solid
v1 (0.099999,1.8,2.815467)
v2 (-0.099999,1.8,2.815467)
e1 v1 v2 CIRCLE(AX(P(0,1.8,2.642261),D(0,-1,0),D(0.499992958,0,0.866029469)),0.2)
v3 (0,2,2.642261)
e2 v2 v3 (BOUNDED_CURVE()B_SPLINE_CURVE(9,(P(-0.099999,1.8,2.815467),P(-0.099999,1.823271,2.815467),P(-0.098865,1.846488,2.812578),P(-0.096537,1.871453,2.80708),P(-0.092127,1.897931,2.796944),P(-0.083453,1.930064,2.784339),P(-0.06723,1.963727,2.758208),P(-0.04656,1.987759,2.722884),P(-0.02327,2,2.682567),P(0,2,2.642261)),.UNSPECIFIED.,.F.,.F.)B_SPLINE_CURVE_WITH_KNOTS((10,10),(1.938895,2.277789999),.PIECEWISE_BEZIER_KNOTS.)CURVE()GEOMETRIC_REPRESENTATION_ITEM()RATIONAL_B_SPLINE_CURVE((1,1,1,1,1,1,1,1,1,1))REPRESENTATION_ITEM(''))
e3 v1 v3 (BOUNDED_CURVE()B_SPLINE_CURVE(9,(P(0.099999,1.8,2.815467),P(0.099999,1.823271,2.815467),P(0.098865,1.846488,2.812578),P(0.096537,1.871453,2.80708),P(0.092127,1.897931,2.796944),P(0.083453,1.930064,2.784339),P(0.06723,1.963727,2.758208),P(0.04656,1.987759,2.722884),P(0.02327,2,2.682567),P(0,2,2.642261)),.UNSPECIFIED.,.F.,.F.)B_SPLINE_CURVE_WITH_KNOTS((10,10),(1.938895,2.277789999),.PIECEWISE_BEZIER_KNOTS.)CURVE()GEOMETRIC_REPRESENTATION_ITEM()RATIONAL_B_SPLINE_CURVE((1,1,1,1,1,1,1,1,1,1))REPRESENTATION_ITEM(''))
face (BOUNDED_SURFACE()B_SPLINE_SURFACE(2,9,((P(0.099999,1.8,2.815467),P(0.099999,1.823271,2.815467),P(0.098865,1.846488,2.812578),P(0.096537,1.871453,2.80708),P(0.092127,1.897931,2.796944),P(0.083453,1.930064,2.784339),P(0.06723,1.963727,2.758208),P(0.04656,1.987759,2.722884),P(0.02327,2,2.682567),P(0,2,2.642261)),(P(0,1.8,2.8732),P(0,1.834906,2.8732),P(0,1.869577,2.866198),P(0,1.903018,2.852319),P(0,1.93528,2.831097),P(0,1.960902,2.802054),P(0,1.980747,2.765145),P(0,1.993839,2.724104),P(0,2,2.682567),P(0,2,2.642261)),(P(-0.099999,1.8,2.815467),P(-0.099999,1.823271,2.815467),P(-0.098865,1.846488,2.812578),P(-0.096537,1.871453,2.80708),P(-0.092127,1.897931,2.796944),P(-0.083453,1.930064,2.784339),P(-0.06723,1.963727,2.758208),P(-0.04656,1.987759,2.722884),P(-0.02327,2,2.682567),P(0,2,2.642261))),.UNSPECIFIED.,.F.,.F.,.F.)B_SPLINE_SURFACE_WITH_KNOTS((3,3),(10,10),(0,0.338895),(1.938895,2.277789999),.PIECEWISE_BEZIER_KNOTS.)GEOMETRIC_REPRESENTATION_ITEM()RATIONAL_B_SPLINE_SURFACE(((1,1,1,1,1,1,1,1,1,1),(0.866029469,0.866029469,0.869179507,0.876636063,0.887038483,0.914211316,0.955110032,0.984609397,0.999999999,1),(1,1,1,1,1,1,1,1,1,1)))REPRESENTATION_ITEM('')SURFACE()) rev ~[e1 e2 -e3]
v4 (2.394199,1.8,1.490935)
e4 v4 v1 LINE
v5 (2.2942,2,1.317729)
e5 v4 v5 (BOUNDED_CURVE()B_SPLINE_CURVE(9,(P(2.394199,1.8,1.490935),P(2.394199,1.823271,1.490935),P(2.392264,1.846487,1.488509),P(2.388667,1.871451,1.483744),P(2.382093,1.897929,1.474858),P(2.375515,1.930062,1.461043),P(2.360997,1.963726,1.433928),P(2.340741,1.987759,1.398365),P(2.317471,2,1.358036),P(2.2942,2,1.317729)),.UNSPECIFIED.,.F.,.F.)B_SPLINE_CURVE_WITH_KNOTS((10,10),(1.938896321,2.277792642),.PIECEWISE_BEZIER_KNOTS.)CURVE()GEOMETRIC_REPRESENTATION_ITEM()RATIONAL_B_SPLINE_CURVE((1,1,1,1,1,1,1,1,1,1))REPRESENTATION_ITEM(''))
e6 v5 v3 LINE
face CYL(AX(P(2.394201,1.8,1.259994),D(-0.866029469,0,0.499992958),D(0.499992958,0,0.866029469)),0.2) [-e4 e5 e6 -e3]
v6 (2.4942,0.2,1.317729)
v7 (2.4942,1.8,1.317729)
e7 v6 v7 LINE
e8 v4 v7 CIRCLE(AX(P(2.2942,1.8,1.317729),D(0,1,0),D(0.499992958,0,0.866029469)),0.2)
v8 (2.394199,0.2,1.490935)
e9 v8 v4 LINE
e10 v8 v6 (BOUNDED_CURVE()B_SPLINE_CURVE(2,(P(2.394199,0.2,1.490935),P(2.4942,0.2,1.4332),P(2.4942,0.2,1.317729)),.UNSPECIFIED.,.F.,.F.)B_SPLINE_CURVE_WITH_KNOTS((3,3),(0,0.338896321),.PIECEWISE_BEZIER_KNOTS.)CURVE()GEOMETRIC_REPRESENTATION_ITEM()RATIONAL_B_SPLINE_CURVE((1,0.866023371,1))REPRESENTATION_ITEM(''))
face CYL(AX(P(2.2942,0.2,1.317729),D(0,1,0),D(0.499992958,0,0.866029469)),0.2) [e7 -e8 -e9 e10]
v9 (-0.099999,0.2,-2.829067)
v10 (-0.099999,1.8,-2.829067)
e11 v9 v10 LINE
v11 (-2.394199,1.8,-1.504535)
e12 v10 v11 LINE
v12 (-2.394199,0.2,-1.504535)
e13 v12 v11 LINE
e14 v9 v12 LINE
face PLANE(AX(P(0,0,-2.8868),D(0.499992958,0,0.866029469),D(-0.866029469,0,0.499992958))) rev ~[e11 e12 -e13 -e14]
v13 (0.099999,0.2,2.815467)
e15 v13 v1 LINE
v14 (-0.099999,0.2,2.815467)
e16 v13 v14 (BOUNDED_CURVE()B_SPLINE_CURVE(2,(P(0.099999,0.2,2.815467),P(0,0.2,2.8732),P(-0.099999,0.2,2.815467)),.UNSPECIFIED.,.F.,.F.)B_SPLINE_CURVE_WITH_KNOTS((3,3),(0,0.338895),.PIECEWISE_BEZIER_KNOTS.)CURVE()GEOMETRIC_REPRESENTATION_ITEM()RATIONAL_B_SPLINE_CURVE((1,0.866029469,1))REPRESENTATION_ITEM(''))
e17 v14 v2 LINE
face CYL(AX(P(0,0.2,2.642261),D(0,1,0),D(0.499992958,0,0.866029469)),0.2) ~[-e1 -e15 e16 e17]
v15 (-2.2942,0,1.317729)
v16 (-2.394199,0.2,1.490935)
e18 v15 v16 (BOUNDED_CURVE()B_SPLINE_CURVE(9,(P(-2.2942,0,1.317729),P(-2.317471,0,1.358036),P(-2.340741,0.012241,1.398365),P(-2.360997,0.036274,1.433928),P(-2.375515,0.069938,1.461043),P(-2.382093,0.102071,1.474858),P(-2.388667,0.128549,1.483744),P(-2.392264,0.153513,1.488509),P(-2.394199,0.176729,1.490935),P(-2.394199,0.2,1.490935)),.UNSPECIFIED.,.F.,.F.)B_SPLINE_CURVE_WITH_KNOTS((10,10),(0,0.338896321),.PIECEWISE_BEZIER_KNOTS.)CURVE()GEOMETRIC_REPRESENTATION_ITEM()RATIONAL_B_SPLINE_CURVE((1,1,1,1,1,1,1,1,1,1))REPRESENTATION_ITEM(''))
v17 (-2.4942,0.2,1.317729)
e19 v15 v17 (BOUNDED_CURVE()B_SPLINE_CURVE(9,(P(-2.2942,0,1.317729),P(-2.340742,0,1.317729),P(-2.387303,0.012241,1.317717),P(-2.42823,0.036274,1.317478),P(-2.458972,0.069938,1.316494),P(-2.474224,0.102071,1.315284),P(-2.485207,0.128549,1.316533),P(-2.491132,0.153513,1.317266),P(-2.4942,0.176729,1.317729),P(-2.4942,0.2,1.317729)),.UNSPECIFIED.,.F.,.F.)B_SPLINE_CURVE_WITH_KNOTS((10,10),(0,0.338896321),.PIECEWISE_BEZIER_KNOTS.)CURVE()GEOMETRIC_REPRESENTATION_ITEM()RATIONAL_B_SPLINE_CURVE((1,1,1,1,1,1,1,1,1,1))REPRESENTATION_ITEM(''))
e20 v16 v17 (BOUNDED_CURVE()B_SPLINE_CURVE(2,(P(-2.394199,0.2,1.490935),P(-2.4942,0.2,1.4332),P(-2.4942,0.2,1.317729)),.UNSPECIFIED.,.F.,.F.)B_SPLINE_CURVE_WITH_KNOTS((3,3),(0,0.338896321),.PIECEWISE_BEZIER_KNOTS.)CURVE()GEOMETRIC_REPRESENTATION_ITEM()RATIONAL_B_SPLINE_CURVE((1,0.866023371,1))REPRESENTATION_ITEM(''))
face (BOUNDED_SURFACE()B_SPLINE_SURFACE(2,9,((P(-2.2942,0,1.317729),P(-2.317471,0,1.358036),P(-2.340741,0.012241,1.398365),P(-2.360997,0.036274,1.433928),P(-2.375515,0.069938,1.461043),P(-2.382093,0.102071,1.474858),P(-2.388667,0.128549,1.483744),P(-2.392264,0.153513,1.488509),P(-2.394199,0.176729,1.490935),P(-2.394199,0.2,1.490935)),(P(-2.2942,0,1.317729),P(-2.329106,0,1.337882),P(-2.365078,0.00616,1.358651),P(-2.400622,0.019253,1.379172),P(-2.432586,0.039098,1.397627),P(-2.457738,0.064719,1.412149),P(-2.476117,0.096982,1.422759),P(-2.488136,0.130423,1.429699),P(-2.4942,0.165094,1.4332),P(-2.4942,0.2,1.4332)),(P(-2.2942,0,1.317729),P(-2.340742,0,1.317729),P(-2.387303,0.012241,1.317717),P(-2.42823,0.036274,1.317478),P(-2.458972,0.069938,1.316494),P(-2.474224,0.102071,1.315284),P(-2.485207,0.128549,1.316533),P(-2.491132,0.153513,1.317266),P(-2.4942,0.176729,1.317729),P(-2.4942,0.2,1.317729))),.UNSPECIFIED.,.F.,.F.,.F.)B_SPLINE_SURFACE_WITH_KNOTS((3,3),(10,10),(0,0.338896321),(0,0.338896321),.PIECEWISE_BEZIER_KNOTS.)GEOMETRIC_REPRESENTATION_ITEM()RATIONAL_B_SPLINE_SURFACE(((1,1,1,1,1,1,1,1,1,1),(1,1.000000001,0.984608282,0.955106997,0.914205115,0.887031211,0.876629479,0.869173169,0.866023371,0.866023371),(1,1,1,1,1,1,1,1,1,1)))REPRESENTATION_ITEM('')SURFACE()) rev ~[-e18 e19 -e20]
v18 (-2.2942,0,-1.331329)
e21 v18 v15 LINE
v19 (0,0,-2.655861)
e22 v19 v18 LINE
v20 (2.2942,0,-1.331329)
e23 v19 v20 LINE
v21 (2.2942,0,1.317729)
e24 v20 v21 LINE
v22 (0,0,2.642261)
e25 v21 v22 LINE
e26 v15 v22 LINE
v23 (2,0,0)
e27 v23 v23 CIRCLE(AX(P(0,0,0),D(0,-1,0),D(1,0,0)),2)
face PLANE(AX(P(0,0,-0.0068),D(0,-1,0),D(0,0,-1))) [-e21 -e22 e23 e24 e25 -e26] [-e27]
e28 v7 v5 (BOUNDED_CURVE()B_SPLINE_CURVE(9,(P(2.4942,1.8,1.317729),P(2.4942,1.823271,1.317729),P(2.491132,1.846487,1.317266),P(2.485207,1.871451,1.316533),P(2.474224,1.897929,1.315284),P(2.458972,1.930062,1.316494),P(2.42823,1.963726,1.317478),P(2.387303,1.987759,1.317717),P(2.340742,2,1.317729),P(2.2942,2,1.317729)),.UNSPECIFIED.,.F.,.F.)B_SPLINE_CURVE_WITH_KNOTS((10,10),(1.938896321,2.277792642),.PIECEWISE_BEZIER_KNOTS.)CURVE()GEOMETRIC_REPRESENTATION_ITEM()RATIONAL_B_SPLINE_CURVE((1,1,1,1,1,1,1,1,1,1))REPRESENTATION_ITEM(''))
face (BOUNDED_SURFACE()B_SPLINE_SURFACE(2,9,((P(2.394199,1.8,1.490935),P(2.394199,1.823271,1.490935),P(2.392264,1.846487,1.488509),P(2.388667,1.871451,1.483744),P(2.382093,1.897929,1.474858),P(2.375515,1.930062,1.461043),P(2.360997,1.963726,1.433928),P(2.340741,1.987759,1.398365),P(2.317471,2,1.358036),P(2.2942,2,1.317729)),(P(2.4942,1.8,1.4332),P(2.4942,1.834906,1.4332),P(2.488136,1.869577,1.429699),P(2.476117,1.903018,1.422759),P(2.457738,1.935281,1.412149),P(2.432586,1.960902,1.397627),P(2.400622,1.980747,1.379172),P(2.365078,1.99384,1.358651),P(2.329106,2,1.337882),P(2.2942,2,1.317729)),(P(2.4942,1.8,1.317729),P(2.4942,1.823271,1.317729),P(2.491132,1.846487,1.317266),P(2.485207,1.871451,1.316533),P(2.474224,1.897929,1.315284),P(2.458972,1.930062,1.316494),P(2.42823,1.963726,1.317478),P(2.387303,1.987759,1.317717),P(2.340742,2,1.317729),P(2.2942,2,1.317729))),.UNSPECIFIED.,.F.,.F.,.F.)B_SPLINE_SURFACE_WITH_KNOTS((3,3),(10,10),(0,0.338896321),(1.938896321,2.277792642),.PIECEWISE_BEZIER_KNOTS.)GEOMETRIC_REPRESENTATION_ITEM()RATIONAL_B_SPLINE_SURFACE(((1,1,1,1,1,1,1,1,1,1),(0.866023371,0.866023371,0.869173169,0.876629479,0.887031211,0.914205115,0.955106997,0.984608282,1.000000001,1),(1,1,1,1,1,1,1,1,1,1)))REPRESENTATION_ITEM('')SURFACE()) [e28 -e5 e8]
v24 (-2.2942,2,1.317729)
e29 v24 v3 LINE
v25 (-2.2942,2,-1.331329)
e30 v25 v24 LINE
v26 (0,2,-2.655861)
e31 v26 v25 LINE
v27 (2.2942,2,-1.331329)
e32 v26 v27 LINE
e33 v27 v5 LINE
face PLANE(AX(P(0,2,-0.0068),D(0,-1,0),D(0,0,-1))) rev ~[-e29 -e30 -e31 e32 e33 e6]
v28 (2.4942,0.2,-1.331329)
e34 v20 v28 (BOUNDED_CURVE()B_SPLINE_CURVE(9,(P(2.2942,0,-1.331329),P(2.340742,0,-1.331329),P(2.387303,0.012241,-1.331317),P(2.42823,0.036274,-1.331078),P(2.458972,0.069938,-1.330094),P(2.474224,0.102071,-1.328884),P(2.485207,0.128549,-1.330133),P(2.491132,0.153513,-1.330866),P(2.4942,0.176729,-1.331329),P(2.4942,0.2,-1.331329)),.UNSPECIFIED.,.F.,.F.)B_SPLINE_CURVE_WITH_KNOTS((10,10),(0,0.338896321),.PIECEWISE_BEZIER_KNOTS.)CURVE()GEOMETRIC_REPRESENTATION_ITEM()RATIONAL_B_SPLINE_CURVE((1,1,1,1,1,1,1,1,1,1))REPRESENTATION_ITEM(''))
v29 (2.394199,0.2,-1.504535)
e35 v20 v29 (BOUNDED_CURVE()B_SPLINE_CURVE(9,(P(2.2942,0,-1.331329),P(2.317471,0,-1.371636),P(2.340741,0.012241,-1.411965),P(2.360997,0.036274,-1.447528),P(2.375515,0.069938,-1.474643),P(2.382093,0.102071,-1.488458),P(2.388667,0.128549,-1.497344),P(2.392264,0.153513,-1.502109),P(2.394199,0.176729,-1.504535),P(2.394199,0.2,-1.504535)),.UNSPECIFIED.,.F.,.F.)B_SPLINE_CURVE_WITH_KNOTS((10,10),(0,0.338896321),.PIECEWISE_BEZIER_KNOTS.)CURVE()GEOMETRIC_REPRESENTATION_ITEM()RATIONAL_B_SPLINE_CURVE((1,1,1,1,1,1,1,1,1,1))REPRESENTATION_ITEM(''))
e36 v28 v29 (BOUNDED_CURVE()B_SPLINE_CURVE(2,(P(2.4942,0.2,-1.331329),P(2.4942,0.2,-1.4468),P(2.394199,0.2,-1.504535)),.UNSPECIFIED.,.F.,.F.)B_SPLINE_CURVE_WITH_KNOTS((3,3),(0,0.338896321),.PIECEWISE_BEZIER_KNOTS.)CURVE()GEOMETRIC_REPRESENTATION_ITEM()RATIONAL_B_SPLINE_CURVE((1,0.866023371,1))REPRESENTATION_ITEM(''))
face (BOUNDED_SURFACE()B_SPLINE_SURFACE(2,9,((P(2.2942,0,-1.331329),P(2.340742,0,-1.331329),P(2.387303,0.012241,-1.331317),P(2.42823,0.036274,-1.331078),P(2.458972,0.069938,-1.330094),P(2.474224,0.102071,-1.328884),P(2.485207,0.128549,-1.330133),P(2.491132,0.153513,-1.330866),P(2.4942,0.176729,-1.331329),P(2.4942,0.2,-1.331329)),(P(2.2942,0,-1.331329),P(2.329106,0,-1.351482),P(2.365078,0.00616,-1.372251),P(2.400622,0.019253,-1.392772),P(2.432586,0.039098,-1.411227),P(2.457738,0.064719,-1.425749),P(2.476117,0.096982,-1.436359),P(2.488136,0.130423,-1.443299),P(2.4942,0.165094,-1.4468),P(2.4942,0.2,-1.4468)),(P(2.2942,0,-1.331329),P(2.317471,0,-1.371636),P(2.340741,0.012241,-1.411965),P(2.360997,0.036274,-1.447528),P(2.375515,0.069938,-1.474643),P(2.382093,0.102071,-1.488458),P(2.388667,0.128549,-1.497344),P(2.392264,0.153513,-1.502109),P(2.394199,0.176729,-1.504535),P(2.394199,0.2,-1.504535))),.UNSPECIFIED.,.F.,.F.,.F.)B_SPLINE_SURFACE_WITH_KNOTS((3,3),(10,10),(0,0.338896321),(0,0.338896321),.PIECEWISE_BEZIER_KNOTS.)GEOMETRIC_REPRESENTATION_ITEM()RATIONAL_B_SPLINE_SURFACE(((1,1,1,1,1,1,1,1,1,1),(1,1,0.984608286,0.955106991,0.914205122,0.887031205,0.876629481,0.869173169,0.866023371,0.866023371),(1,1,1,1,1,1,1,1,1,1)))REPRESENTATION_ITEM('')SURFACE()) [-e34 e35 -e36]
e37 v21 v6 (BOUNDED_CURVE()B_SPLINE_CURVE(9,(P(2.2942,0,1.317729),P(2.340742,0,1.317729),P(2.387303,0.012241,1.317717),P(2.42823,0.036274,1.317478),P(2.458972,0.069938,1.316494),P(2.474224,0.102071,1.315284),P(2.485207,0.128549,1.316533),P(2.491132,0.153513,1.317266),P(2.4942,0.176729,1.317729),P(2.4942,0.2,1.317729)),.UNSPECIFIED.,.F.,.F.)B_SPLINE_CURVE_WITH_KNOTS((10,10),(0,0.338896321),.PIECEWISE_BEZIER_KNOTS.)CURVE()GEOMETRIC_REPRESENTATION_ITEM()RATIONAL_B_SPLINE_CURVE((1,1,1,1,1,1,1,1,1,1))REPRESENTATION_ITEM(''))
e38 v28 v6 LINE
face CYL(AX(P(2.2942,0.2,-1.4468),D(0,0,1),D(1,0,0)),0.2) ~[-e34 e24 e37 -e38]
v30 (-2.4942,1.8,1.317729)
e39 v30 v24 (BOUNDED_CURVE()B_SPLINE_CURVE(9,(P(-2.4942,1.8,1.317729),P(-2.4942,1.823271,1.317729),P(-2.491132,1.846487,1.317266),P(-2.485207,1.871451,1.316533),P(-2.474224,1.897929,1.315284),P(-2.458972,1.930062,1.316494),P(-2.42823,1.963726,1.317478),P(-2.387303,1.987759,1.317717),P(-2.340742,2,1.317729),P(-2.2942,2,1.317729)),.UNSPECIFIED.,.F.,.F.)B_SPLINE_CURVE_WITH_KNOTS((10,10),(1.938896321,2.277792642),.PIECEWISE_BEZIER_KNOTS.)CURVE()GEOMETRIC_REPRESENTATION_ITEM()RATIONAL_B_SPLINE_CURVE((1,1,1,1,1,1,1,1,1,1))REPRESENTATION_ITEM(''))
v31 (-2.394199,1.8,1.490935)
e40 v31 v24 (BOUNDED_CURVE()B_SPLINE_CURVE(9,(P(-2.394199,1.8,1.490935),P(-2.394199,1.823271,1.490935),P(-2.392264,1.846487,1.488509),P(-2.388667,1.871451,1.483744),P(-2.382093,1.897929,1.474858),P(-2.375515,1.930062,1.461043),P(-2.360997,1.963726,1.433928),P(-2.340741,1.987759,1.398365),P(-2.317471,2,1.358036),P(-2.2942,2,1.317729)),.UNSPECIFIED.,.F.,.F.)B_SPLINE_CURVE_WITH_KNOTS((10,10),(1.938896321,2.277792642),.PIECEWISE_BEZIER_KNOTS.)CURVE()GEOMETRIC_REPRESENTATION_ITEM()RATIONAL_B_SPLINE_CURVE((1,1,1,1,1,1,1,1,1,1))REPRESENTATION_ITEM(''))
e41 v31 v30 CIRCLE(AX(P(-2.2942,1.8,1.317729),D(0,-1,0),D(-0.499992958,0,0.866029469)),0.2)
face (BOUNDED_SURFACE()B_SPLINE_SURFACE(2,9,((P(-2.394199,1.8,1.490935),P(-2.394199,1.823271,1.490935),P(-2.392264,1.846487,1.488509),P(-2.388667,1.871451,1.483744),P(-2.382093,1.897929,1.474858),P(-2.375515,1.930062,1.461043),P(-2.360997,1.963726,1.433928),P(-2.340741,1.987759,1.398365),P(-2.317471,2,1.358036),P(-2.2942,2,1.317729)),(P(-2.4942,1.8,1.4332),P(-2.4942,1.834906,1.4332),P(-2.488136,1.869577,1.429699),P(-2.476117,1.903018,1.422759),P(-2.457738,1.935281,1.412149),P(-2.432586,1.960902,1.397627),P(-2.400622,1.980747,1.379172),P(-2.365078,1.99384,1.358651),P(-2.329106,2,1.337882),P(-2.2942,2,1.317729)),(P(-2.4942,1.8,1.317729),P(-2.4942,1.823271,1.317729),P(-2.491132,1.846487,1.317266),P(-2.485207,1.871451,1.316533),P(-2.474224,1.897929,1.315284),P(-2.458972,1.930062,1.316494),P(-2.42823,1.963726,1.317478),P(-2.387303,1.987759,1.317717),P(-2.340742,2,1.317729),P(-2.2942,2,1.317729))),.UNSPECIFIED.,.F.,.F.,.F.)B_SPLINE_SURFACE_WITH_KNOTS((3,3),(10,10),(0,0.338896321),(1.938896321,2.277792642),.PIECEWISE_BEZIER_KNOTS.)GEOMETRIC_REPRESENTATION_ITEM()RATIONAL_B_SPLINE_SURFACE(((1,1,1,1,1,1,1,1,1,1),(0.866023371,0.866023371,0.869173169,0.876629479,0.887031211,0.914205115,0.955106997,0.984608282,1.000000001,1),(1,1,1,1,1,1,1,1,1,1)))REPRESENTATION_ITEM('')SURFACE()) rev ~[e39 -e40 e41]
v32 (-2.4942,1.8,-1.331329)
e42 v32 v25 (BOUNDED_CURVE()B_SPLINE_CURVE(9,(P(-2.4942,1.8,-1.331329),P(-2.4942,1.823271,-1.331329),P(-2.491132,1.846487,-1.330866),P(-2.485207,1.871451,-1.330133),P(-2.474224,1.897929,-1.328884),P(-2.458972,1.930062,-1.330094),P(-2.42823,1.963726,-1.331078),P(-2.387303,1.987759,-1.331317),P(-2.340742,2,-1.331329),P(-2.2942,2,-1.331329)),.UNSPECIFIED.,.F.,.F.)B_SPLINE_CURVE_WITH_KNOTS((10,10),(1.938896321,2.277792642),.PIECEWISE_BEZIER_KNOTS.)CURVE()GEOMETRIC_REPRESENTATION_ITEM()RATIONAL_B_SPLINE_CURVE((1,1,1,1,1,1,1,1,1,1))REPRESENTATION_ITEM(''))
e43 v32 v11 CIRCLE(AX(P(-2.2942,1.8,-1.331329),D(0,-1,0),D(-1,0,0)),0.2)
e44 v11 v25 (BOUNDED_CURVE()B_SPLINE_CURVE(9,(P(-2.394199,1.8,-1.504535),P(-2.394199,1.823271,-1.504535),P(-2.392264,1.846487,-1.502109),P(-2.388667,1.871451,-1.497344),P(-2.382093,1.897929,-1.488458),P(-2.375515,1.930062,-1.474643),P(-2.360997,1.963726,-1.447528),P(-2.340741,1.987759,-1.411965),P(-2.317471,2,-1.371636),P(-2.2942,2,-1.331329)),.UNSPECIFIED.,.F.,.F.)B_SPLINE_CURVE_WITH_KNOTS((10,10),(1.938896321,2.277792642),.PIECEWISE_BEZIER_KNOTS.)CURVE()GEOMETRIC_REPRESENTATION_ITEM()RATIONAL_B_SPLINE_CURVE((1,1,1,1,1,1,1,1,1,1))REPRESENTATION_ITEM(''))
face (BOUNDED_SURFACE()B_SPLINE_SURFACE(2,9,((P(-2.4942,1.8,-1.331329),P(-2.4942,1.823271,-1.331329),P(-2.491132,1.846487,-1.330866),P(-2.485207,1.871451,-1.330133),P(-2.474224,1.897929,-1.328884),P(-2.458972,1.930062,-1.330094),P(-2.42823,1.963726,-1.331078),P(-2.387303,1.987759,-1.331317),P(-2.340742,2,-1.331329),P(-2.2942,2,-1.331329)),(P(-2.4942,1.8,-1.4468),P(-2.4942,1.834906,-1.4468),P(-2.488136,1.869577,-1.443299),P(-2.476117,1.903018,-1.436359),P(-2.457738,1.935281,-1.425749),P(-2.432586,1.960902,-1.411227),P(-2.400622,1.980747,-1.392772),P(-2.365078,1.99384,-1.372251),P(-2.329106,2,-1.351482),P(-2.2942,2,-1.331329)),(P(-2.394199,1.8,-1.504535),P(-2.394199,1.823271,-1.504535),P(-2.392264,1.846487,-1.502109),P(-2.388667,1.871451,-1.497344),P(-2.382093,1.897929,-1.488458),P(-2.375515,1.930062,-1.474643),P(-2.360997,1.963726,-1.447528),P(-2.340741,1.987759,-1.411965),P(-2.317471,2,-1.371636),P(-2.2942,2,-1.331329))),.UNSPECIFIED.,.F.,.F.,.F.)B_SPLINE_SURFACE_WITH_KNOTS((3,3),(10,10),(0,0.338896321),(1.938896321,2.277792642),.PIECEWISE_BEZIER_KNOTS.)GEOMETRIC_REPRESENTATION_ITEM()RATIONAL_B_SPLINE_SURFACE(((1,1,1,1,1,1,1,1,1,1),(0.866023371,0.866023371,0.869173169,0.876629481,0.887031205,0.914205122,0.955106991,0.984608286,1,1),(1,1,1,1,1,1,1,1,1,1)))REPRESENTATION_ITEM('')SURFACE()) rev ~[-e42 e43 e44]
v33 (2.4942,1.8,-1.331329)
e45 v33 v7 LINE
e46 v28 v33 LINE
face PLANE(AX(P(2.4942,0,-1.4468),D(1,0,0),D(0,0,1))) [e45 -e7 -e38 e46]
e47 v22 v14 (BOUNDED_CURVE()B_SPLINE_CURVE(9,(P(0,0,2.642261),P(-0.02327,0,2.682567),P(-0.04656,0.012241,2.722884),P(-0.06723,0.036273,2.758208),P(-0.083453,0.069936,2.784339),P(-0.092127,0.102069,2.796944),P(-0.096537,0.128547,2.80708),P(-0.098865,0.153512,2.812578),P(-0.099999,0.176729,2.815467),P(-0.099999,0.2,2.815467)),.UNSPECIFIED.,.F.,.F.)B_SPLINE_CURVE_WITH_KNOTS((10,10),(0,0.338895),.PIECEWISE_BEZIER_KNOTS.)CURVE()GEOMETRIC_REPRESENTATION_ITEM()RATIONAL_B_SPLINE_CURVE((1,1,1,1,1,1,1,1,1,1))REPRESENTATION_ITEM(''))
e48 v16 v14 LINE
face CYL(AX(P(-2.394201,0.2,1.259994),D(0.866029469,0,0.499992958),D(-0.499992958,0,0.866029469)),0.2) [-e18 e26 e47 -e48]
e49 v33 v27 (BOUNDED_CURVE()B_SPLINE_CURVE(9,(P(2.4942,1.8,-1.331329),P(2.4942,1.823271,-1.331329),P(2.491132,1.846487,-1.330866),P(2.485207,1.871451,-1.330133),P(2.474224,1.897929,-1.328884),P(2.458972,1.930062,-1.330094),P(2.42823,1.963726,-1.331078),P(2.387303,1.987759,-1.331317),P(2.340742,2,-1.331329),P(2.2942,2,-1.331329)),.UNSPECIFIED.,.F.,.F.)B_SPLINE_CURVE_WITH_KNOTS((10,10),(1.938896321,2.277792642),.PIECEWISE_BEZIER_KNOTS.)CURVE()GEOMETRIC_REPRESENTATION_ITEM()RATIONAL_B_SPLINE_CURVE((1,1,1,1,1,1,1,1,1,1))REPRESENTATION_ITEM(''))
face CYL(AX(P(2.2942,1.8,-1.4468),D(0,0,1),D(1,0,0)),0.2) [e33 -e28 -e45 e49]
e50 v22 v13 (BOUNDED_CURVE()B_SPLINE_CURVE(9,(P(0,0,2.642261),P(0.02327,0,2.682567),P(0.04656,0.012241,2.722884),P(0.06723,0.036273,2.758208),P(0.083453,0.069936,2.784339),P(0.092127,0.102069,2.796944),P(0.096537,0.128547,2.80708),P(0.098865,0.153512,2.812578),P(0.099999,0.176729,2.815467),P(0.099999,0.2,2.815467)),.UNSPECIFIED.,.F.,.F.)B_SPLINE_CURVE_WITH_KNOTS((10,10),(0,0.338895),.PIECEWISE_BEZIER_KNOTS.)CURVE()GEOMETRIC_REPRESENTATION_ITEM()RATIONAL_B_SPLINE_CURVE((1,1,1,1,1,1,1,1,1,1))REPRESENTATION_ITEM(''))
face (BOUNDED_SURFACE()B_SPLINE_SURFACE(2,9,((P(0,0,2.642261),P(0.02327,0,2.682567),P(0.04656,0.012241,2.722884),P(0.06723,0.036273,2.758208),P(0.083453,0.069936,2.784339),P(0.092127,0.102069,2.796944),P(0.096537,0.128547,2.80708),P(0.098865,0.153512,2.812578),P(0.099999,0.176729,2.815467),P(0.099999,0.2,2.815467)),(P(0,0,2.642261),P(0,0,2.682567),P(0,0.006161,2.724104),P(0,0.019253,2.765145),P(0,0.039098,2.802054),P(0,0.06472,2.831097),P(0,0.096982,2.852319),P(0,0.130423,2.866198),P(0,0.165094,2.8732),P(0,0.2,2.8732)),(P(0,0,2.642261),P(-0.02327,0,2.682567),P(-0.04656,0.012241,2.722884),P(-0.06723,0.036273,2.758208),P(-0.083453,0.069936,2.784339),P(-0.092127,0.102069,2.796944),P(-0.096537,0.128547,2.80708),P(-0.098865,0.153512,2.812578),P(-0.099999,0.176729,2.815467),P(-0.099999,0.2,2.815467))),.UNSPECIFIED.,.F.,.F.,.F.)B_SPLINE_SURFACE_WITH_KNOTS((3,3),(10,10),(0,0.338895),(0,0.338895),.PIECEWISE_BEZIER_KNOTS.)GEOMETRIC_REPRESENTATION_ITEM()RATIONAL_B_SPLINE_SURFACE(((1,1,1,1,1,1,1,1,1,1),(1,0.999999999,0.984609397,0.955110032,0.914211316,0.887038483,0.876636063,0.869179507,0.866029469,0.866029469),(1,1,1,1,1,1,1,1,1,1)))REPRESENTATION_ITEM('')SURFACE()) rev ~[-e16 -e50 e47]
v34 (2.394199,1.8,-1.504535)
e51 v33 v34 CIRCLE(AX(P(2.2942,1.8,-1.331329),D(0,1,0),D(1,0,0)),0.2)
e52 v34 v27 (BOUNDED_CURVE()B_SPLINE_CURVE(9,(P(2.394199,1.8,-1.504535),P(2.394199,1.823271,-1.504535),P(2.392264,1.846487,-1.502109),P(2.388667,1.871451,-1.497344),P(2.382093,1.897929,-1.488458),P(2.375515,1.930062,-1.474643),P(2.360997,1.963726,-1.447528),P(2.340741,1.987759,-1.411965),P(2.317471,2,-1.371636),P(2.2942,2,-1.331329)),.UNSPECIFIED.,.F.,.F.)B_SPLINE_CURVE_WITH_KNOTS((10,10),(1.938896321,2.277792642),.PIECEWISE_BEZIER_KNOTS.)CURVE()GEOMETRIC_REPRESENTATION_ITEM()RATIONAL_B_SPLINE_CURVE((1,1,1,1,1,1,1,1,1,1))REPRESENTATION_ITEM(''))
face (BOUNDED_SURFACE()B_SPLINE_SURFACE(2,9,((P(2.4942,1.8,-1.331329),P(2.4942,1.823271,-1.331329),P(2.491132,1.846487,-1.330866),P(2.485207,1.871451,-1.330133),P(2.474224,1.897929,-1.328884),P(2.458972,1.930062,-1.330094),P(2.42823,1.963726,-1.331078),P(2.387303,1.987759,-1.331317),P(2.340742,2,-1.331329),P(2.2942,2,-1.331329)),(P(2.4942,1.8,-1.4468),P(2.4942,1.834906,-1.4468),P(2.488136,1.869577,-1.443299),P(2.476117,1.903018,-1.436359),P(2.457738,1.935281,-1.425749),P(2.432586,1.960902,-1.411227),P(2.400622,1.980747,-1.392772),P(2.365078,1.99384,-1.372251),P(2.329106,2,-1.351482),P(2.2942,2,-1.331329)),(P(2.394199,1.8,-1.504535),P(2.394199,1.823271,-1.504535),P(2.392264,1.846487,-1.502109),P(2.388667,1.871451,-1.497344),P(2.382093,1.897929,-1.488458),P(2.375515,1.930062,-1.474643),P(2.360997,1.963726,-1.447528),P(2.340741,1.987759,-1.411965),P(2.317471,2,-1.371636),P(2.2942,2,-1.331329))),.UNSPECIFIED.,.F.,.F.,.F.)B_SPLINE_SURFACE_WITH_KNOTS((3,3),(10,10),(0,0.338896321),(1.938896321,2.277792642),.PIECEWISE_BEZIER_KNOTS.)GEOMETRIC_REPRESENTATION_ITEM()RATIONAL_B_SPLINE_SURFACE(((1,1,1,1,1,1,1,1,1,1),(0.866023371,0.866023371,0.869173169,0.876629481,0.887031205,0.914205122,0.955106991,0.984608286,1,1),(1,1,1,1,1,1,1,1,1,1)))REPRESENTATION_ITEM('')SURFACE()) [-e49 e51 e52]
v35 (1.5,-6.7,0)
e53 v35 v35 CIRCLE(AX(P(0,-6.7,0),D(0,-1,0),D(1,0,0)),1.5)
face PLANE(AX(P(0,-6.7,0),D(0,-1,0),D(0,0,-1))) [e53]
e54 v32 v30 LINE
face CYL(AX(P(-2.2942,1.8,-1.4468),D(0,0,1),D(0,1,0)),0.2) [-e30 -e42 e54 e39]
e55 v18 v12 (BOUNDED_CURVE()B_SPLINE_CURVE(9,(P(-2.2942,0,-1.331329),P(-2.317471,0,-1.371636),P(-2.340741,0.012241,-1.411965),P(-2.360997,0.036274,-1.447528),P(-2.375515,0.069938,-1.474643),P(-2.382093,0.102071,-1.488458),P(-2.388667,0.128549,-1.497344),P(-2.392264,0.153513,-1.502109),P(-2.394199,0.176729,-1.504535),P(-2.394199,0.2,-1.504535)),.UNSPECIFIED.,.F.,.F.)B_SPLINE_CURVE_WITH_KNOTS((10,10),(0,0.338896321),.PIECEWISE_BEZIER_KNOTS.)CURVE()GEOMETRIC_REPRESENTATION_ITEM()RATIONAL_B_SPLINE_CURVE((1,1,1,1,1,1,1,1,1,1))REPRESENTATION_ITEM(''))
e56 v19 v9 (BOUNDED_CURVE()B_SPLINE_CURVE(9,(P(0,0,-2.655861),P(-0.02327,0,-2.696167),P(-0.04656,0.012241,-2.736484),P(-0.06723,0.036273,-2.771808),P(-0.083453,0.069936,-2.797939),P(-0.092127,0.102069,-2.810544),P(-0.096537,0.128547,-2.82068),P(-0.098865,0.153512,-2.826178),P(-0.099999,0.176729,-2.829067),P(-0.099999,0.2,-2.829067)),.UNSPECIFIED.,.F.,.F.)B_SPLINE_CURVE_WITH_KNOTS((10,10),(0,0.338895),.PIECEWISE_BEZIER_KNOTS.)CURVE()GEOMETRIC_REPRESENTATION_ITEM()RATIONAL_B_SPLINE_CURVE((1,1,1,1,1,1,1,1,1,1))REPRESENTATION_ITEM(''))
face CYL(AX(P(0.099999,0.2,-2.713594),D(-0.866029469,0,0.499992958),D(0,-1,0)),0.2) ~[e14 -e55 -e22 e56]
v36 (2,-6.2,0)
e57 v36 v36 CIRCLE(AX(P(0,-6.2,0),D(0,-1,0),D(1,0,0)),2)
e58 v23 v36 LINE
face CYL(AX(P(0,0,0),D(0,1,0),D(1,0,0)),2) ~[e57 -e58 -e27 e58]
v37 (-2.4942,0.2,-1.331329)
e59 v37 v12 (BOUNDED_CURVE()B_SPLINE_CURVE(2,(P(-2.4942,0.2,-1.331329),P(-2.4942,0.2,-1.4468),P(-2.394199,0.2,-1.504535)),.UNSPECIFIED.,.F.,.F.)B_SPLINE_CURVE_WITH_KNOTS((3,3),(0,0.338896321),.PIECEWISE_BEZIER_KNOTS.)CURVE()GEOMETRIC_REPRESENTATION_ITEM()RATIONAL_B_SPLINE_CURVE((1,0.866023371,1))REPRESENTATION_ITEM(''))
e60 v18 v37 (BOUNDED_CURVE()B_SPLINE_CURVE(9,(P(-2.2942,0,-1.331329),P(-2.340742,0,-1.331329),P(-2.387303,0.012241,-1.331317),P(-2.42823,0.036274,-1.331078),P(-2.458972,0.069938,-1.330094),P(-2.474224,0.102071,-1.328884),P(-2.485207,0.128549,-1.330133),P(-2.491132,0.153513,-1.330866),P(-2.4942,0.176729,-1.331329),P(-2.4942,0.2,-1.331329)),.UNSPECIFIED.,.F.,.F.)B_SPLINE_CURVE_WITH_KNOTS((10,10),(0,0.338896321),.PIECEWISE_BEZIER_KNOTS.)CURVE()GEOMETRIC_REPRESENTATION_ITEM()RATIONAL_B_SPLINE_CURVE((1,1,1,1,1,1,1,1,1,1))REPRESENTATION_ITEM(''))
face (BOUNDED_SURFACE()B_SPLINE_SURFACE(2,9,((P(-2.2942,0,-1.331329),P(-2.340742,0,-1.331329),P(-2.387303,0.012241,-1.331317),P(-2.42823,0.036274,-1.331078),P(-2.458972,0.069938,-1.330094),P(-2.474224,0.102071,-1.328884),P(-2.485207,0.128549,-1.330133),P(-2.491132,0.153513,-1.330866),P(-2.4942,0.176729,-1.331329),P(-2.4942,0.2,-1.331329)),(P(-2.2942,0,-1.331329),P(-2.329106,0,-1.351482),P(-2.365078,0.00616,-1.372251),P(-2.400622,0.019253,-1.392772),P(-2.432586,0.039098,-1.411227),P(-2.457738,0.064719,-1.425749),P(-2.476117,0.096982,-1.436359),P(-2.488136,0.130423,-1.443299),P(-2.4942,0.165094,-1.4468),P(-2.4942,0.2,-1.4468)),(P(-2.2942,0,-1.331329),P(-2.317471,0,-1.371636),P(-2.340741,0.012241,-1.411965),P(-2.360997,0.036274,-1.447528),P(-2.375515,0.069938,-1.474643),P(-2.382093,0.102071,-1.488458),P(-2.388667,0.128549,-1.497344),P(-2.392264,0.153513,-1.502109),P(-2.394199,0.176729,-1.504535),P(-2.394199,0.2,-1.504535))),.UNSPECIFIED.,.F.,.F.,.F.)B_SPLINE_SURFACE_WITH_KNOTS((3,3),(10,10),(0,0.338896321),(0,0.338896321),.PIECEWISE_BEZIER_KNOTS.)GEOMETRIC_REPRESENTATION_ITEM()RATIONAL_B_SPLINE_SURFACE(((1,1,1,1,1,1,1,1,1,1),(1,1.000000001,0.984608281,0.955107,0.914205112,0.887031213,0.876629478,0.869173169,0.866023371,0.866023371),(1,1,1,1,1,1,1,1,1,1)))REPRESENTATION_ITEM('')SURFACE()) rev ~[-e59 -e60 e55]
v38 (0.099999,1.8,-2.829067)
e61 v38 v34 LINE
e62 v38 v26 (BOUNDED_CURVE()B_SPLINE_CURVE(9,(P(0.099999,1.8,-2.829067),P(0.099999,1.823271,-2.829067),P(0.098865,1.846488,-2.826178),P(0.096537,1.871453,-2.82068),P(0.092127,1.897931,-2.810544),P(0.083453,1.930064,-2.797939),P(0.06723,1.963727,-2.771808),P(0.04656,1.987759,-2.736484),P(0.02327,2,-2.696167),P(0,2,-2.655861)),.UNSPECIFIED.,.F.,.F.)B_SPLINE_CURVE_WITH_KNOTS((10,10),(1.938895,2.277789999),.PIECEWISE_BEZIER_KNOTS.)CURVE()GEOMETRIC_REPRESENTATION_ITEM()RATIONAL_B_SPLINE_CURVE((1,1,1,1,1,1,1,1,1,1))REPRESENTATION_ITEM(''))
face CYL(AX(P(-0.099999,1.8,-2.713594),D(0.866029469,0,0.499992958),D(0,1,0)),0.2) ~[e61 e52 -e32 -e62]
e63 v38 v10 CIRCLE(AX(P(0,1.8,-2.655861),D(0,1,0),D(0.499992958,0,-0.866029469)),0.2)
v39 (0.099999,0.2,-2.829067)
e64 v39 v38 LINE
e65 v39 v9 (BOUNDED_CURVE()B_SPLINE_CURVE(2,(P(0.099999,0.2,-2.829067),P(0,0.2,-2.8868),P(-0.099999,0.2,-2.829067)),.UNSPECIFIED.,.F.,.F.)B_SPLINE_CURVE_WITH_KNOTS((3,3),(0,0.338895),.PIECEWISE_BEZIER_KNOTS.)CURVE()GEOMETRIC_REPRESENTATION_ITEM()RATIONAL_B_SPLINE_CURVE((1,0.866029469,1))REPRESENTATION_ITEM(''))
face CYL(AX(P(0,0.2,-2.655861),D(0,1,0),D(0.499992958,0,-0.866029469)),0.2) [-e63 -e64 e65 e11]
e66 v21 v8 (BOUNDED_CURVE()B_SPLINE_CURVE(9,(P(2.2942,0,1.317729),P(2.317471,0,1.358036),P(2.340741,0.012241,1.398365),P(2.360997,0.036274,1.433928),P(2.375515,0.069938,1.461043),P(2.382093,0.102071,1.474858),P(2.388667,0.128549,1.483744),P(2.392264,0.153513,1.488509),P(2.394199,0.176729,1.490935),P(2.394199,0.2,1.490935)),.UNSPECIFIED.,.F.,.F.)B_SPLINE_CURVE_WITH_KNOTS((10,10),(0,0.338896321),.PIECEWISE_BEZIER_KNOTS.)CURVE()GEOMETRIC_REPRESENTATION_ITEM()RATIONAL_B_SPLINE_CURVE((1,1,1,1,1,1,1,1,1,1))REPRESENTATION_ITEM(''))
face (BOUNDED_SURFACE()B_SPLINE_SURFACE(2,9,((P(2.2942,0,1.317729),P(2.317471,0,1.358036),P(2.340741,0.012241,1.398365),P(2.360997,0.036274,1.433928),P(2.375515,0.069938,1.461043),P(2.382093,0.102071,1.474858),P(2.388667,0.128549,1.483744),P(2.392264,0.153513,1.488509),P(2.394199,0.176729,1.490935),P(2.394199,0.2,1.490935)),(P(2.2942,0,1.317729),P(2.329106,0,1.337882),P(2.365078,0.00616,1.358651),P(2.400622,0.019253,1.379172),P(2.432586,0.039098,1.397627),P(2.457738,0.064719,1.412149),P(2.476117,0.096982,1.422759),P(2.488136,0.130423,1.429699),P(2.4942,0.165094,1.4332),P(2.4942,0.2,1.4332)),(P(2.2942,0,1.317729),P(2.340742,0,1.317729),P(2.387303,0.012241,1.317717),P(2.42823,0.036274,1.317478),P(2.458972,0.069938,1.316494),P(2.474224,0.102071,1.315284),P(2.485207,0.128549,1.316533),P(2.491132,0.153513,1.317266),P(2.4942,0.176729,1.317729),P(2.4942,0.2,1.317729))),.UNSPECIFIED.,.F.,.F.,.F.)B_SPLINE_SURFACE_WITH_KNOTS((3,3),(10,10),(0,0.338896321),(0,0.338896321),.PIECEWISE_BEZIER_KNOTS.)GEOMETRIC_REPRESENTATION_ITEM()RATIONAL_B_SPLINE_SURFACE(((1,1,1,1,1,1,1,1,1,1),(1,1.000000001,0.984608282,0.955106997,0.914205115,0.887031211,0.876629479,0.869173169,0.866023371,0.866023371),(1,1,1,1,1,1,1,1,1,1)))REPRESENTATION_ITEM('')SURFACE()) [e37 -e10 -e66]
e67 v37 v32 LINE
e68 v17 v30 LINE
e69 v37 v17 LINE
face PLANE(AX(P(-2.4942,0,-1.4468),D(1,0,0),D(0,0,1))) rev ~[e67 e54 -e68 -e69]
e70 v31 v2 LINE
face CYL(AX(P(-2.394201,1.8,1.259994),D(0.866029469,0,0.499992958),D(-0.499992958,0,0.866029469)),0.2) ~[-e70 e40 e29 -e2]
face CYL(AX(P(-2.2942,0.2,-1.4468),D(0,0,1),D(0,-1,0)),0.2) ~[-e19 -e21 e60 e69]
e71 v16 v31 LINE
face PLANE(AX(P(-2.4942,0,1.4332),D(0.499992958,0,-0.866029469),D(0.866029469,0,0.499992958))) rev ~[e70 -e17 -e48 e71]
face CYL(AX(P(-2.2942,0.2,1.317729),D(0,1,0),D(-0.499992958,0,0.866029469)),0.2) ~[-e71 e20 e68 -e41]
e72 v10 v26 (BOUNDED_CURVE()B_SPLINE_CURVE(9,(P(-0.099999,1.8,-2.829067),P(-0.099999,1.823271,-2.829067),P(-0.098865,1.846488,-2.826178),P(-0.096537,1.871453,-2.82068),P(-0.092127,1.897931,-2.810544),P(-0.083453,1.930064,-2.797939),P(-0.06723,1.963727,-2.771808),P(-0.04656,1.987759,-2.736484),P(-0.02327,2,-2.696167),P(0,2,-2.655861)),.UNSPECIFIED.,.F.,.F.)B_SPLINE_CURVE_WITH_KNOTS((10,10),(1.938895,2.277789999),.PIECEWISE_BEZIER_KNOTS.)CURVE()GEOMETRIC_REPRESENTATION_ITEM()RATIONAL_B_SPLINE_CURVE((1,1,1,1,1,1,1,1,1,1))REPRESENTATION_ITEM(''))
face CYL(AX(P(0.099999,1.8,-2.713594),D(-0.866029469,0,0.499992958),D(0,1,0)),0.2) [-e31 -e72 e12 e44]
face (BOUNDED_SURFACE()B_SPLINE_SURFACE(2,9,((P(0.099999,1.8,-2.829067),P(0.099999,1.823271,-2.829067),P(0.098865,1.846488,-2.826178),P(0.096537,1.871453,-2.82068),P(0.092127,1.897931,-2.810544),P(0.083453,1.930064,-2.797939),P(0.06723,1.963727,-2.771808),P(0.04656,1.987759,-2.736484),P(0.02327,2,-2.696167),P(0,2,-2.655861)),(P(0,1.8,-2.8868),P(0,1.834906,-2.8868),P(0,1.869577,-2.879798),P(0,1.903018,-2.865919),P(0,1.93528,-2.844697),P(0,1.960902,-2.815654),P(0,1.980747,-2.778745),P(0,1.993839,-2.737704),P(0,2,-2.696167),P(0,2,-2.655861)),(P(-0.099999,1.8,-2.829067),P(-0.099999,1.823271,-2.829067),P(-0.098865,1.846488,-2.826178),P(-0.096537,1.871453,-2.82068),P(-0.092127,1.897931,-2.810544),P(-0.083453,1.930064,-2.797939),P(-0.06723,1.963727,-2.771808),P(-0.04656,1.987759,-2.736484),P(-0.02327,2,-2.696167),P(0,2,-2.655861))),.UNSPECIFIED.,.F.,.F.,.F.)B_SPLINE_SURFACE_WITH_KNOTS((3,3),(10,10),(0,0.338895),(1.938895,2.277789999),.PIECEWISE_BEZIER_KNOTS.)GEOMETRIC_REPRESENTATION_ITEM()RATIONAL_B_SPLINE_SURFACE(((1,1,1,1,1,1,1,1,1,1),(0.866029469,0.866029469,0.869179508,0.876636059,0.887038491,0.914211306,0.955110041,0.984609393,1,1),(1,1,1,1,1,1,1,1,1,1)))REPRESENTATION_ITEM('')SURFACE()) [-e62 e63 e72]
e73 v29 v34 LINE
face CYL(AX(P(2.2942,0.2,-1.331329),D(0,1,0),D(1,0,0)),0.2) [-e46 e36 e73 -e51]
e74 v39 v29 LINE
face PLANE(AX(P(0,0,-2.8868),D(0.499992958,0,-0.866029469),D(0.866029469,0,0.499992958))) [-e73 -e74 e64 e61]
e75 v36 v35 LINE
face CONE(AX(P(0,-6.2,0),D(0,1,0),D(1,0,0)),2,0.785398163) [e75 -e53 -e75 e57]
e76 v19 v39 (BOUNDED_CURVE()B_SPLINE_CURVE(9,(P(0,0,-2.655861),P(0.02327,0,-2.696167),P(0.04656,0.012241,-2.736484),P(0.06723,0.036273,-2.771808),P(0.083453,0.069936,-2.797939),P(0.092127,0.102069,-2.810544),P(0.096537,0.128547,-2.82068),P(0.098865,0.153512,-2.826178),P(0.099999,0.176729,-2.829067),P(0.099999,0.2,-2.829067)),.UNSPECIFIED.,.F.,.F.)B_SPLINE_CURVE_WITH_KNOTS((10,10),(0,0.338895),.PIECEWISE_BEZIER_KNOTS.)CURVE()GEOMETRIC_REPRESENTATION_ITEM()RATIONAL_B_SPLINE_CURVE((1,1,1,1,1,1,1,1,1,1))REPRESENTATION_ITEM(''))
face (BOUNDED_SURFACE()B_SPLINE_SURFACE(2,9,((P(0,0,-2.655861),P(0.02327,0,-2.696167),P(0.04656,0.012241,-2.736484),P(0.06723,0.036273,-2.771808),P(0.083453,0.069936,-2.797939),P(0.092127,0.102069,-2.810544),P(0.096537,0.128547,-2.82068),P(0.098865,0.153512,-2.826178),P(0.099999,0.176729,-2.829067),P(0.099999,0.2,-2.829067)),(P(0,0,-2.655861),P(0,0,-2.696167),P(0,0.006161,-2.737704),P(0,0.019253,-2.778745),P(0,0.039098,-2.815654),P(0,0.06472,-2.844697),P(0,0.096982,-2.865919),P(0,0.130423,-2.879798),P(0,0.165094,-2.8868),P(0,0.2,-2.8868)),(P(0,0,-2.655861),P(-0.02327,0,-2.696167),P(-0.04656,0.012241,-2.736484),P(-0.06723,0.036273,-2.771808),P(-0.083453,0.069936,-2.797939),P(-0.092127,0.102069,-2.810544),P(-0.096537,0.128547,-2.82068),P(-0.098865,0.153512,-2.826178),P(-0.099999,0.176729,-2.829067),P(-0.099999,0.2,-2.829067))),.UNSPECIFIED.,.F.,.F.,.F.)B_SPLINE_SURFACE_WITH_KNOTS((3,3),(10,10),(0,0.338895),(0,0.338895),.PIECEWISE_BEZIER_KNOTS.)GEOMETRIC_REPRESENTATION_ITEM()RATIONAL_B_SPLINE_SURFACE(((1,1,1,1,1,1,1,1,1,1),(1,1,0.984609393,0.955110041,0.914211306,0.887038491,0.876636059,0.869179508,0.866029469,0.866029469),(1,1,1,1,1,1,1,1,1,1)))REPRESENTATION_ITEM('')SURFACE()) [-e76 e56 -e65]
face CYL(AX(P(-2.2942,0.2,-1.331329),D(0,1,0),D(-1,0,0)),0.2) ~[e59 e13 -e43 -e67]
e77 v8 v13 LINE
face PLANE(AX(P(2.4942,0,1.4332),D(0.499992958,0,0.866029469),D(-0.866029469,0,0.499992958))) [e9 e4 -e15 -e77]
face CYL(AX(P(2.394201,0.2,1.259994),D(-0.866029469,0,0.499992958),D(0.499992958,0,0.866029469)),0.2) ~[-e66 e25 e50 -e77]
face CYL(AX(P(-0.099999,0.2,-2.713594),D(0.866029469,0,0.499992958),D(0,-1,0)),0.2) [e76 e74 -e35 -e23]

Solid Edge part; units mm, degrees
sketch "Sketch1" plane through (0, 0, 0) normal (0, -1, 0) x (1, 0, 0)
  circle A0 centre (0, 0) radius 2
extrude "Protrusion1" add sketch "Sketch1" along normal blind 6.7
sketch "Sketch2" plane through (0, 0, 0) normal (0, 1, 0) x (1, 0, 0)
  line L0 (2.4942, -1.4332) -> (0, -2.8732)
  line L1 (-2.4942, -1.4332) -> (0, -2.8732)
  line L2 (-2.4942, 1.4468) -> (-2.4942, -1.4332)
  line L3 (0, 2.8868) -> (-2.4942, 1.4468)
  line L4 (0, 2.8868) -> (2.4942, 1.4468)
  line L5 (2.4942, 1.4468) -> (2.4942, -1.4332)
extrude "ExtrudedProtrusion_2" add sketch "Sketch2" along normal blind 2
fillet "Round_1" radius 0.2 12 edges at (1.2471, 0, 2.1532) (-1.2471, 0, 2.1532) (2.4942, 0, -0.0068) (1.2471, 0, -2.1668) (-1.2471, 0, -2.1668) (-2.4942, 0, -0.0068) (1.2471, 2, 2.1532) (-1.2471, 2, 2.1532) (-2.4942, 2, -0.0068) (-1.2471, 2, -2.1668) (1.2471, 2, -2.1668) (2.4942, 2, -0.0068)
fillet "Round_2" radius 0.2 18 edges at (0, 1, 2.8732) (0, 0.0586, 2.8056) (0, 1.9414, 2.8056) (2.4942, 1, 1.4332) (2.4356, 0.0586, 1.3994) (2.4356, 1.9414, 1.3994) (2.4942, 1, -1.4468) (2.4356, 0.0586, -1.4129) (2.4356, 1.9414, -1.4129) (-2.4942, 1, 1.4332) (-2.4356, 0.0586, 1.3994) (-2.4356, 1.9414, 1.3994) (0, 1, -2.8868) (0, 0.0586, -2.8191) (0, 1.9414, -2.8191) (-2.4942, 1, -1.4468) (-2.4356, 0.0586, -1.4129) (-2.4356, 1.9414, -1.4129)
chamfer "Chamfer_1" distance 0.5 angle 45 1 edges at (-2, -6.7, 0)
properties material "PVC"
